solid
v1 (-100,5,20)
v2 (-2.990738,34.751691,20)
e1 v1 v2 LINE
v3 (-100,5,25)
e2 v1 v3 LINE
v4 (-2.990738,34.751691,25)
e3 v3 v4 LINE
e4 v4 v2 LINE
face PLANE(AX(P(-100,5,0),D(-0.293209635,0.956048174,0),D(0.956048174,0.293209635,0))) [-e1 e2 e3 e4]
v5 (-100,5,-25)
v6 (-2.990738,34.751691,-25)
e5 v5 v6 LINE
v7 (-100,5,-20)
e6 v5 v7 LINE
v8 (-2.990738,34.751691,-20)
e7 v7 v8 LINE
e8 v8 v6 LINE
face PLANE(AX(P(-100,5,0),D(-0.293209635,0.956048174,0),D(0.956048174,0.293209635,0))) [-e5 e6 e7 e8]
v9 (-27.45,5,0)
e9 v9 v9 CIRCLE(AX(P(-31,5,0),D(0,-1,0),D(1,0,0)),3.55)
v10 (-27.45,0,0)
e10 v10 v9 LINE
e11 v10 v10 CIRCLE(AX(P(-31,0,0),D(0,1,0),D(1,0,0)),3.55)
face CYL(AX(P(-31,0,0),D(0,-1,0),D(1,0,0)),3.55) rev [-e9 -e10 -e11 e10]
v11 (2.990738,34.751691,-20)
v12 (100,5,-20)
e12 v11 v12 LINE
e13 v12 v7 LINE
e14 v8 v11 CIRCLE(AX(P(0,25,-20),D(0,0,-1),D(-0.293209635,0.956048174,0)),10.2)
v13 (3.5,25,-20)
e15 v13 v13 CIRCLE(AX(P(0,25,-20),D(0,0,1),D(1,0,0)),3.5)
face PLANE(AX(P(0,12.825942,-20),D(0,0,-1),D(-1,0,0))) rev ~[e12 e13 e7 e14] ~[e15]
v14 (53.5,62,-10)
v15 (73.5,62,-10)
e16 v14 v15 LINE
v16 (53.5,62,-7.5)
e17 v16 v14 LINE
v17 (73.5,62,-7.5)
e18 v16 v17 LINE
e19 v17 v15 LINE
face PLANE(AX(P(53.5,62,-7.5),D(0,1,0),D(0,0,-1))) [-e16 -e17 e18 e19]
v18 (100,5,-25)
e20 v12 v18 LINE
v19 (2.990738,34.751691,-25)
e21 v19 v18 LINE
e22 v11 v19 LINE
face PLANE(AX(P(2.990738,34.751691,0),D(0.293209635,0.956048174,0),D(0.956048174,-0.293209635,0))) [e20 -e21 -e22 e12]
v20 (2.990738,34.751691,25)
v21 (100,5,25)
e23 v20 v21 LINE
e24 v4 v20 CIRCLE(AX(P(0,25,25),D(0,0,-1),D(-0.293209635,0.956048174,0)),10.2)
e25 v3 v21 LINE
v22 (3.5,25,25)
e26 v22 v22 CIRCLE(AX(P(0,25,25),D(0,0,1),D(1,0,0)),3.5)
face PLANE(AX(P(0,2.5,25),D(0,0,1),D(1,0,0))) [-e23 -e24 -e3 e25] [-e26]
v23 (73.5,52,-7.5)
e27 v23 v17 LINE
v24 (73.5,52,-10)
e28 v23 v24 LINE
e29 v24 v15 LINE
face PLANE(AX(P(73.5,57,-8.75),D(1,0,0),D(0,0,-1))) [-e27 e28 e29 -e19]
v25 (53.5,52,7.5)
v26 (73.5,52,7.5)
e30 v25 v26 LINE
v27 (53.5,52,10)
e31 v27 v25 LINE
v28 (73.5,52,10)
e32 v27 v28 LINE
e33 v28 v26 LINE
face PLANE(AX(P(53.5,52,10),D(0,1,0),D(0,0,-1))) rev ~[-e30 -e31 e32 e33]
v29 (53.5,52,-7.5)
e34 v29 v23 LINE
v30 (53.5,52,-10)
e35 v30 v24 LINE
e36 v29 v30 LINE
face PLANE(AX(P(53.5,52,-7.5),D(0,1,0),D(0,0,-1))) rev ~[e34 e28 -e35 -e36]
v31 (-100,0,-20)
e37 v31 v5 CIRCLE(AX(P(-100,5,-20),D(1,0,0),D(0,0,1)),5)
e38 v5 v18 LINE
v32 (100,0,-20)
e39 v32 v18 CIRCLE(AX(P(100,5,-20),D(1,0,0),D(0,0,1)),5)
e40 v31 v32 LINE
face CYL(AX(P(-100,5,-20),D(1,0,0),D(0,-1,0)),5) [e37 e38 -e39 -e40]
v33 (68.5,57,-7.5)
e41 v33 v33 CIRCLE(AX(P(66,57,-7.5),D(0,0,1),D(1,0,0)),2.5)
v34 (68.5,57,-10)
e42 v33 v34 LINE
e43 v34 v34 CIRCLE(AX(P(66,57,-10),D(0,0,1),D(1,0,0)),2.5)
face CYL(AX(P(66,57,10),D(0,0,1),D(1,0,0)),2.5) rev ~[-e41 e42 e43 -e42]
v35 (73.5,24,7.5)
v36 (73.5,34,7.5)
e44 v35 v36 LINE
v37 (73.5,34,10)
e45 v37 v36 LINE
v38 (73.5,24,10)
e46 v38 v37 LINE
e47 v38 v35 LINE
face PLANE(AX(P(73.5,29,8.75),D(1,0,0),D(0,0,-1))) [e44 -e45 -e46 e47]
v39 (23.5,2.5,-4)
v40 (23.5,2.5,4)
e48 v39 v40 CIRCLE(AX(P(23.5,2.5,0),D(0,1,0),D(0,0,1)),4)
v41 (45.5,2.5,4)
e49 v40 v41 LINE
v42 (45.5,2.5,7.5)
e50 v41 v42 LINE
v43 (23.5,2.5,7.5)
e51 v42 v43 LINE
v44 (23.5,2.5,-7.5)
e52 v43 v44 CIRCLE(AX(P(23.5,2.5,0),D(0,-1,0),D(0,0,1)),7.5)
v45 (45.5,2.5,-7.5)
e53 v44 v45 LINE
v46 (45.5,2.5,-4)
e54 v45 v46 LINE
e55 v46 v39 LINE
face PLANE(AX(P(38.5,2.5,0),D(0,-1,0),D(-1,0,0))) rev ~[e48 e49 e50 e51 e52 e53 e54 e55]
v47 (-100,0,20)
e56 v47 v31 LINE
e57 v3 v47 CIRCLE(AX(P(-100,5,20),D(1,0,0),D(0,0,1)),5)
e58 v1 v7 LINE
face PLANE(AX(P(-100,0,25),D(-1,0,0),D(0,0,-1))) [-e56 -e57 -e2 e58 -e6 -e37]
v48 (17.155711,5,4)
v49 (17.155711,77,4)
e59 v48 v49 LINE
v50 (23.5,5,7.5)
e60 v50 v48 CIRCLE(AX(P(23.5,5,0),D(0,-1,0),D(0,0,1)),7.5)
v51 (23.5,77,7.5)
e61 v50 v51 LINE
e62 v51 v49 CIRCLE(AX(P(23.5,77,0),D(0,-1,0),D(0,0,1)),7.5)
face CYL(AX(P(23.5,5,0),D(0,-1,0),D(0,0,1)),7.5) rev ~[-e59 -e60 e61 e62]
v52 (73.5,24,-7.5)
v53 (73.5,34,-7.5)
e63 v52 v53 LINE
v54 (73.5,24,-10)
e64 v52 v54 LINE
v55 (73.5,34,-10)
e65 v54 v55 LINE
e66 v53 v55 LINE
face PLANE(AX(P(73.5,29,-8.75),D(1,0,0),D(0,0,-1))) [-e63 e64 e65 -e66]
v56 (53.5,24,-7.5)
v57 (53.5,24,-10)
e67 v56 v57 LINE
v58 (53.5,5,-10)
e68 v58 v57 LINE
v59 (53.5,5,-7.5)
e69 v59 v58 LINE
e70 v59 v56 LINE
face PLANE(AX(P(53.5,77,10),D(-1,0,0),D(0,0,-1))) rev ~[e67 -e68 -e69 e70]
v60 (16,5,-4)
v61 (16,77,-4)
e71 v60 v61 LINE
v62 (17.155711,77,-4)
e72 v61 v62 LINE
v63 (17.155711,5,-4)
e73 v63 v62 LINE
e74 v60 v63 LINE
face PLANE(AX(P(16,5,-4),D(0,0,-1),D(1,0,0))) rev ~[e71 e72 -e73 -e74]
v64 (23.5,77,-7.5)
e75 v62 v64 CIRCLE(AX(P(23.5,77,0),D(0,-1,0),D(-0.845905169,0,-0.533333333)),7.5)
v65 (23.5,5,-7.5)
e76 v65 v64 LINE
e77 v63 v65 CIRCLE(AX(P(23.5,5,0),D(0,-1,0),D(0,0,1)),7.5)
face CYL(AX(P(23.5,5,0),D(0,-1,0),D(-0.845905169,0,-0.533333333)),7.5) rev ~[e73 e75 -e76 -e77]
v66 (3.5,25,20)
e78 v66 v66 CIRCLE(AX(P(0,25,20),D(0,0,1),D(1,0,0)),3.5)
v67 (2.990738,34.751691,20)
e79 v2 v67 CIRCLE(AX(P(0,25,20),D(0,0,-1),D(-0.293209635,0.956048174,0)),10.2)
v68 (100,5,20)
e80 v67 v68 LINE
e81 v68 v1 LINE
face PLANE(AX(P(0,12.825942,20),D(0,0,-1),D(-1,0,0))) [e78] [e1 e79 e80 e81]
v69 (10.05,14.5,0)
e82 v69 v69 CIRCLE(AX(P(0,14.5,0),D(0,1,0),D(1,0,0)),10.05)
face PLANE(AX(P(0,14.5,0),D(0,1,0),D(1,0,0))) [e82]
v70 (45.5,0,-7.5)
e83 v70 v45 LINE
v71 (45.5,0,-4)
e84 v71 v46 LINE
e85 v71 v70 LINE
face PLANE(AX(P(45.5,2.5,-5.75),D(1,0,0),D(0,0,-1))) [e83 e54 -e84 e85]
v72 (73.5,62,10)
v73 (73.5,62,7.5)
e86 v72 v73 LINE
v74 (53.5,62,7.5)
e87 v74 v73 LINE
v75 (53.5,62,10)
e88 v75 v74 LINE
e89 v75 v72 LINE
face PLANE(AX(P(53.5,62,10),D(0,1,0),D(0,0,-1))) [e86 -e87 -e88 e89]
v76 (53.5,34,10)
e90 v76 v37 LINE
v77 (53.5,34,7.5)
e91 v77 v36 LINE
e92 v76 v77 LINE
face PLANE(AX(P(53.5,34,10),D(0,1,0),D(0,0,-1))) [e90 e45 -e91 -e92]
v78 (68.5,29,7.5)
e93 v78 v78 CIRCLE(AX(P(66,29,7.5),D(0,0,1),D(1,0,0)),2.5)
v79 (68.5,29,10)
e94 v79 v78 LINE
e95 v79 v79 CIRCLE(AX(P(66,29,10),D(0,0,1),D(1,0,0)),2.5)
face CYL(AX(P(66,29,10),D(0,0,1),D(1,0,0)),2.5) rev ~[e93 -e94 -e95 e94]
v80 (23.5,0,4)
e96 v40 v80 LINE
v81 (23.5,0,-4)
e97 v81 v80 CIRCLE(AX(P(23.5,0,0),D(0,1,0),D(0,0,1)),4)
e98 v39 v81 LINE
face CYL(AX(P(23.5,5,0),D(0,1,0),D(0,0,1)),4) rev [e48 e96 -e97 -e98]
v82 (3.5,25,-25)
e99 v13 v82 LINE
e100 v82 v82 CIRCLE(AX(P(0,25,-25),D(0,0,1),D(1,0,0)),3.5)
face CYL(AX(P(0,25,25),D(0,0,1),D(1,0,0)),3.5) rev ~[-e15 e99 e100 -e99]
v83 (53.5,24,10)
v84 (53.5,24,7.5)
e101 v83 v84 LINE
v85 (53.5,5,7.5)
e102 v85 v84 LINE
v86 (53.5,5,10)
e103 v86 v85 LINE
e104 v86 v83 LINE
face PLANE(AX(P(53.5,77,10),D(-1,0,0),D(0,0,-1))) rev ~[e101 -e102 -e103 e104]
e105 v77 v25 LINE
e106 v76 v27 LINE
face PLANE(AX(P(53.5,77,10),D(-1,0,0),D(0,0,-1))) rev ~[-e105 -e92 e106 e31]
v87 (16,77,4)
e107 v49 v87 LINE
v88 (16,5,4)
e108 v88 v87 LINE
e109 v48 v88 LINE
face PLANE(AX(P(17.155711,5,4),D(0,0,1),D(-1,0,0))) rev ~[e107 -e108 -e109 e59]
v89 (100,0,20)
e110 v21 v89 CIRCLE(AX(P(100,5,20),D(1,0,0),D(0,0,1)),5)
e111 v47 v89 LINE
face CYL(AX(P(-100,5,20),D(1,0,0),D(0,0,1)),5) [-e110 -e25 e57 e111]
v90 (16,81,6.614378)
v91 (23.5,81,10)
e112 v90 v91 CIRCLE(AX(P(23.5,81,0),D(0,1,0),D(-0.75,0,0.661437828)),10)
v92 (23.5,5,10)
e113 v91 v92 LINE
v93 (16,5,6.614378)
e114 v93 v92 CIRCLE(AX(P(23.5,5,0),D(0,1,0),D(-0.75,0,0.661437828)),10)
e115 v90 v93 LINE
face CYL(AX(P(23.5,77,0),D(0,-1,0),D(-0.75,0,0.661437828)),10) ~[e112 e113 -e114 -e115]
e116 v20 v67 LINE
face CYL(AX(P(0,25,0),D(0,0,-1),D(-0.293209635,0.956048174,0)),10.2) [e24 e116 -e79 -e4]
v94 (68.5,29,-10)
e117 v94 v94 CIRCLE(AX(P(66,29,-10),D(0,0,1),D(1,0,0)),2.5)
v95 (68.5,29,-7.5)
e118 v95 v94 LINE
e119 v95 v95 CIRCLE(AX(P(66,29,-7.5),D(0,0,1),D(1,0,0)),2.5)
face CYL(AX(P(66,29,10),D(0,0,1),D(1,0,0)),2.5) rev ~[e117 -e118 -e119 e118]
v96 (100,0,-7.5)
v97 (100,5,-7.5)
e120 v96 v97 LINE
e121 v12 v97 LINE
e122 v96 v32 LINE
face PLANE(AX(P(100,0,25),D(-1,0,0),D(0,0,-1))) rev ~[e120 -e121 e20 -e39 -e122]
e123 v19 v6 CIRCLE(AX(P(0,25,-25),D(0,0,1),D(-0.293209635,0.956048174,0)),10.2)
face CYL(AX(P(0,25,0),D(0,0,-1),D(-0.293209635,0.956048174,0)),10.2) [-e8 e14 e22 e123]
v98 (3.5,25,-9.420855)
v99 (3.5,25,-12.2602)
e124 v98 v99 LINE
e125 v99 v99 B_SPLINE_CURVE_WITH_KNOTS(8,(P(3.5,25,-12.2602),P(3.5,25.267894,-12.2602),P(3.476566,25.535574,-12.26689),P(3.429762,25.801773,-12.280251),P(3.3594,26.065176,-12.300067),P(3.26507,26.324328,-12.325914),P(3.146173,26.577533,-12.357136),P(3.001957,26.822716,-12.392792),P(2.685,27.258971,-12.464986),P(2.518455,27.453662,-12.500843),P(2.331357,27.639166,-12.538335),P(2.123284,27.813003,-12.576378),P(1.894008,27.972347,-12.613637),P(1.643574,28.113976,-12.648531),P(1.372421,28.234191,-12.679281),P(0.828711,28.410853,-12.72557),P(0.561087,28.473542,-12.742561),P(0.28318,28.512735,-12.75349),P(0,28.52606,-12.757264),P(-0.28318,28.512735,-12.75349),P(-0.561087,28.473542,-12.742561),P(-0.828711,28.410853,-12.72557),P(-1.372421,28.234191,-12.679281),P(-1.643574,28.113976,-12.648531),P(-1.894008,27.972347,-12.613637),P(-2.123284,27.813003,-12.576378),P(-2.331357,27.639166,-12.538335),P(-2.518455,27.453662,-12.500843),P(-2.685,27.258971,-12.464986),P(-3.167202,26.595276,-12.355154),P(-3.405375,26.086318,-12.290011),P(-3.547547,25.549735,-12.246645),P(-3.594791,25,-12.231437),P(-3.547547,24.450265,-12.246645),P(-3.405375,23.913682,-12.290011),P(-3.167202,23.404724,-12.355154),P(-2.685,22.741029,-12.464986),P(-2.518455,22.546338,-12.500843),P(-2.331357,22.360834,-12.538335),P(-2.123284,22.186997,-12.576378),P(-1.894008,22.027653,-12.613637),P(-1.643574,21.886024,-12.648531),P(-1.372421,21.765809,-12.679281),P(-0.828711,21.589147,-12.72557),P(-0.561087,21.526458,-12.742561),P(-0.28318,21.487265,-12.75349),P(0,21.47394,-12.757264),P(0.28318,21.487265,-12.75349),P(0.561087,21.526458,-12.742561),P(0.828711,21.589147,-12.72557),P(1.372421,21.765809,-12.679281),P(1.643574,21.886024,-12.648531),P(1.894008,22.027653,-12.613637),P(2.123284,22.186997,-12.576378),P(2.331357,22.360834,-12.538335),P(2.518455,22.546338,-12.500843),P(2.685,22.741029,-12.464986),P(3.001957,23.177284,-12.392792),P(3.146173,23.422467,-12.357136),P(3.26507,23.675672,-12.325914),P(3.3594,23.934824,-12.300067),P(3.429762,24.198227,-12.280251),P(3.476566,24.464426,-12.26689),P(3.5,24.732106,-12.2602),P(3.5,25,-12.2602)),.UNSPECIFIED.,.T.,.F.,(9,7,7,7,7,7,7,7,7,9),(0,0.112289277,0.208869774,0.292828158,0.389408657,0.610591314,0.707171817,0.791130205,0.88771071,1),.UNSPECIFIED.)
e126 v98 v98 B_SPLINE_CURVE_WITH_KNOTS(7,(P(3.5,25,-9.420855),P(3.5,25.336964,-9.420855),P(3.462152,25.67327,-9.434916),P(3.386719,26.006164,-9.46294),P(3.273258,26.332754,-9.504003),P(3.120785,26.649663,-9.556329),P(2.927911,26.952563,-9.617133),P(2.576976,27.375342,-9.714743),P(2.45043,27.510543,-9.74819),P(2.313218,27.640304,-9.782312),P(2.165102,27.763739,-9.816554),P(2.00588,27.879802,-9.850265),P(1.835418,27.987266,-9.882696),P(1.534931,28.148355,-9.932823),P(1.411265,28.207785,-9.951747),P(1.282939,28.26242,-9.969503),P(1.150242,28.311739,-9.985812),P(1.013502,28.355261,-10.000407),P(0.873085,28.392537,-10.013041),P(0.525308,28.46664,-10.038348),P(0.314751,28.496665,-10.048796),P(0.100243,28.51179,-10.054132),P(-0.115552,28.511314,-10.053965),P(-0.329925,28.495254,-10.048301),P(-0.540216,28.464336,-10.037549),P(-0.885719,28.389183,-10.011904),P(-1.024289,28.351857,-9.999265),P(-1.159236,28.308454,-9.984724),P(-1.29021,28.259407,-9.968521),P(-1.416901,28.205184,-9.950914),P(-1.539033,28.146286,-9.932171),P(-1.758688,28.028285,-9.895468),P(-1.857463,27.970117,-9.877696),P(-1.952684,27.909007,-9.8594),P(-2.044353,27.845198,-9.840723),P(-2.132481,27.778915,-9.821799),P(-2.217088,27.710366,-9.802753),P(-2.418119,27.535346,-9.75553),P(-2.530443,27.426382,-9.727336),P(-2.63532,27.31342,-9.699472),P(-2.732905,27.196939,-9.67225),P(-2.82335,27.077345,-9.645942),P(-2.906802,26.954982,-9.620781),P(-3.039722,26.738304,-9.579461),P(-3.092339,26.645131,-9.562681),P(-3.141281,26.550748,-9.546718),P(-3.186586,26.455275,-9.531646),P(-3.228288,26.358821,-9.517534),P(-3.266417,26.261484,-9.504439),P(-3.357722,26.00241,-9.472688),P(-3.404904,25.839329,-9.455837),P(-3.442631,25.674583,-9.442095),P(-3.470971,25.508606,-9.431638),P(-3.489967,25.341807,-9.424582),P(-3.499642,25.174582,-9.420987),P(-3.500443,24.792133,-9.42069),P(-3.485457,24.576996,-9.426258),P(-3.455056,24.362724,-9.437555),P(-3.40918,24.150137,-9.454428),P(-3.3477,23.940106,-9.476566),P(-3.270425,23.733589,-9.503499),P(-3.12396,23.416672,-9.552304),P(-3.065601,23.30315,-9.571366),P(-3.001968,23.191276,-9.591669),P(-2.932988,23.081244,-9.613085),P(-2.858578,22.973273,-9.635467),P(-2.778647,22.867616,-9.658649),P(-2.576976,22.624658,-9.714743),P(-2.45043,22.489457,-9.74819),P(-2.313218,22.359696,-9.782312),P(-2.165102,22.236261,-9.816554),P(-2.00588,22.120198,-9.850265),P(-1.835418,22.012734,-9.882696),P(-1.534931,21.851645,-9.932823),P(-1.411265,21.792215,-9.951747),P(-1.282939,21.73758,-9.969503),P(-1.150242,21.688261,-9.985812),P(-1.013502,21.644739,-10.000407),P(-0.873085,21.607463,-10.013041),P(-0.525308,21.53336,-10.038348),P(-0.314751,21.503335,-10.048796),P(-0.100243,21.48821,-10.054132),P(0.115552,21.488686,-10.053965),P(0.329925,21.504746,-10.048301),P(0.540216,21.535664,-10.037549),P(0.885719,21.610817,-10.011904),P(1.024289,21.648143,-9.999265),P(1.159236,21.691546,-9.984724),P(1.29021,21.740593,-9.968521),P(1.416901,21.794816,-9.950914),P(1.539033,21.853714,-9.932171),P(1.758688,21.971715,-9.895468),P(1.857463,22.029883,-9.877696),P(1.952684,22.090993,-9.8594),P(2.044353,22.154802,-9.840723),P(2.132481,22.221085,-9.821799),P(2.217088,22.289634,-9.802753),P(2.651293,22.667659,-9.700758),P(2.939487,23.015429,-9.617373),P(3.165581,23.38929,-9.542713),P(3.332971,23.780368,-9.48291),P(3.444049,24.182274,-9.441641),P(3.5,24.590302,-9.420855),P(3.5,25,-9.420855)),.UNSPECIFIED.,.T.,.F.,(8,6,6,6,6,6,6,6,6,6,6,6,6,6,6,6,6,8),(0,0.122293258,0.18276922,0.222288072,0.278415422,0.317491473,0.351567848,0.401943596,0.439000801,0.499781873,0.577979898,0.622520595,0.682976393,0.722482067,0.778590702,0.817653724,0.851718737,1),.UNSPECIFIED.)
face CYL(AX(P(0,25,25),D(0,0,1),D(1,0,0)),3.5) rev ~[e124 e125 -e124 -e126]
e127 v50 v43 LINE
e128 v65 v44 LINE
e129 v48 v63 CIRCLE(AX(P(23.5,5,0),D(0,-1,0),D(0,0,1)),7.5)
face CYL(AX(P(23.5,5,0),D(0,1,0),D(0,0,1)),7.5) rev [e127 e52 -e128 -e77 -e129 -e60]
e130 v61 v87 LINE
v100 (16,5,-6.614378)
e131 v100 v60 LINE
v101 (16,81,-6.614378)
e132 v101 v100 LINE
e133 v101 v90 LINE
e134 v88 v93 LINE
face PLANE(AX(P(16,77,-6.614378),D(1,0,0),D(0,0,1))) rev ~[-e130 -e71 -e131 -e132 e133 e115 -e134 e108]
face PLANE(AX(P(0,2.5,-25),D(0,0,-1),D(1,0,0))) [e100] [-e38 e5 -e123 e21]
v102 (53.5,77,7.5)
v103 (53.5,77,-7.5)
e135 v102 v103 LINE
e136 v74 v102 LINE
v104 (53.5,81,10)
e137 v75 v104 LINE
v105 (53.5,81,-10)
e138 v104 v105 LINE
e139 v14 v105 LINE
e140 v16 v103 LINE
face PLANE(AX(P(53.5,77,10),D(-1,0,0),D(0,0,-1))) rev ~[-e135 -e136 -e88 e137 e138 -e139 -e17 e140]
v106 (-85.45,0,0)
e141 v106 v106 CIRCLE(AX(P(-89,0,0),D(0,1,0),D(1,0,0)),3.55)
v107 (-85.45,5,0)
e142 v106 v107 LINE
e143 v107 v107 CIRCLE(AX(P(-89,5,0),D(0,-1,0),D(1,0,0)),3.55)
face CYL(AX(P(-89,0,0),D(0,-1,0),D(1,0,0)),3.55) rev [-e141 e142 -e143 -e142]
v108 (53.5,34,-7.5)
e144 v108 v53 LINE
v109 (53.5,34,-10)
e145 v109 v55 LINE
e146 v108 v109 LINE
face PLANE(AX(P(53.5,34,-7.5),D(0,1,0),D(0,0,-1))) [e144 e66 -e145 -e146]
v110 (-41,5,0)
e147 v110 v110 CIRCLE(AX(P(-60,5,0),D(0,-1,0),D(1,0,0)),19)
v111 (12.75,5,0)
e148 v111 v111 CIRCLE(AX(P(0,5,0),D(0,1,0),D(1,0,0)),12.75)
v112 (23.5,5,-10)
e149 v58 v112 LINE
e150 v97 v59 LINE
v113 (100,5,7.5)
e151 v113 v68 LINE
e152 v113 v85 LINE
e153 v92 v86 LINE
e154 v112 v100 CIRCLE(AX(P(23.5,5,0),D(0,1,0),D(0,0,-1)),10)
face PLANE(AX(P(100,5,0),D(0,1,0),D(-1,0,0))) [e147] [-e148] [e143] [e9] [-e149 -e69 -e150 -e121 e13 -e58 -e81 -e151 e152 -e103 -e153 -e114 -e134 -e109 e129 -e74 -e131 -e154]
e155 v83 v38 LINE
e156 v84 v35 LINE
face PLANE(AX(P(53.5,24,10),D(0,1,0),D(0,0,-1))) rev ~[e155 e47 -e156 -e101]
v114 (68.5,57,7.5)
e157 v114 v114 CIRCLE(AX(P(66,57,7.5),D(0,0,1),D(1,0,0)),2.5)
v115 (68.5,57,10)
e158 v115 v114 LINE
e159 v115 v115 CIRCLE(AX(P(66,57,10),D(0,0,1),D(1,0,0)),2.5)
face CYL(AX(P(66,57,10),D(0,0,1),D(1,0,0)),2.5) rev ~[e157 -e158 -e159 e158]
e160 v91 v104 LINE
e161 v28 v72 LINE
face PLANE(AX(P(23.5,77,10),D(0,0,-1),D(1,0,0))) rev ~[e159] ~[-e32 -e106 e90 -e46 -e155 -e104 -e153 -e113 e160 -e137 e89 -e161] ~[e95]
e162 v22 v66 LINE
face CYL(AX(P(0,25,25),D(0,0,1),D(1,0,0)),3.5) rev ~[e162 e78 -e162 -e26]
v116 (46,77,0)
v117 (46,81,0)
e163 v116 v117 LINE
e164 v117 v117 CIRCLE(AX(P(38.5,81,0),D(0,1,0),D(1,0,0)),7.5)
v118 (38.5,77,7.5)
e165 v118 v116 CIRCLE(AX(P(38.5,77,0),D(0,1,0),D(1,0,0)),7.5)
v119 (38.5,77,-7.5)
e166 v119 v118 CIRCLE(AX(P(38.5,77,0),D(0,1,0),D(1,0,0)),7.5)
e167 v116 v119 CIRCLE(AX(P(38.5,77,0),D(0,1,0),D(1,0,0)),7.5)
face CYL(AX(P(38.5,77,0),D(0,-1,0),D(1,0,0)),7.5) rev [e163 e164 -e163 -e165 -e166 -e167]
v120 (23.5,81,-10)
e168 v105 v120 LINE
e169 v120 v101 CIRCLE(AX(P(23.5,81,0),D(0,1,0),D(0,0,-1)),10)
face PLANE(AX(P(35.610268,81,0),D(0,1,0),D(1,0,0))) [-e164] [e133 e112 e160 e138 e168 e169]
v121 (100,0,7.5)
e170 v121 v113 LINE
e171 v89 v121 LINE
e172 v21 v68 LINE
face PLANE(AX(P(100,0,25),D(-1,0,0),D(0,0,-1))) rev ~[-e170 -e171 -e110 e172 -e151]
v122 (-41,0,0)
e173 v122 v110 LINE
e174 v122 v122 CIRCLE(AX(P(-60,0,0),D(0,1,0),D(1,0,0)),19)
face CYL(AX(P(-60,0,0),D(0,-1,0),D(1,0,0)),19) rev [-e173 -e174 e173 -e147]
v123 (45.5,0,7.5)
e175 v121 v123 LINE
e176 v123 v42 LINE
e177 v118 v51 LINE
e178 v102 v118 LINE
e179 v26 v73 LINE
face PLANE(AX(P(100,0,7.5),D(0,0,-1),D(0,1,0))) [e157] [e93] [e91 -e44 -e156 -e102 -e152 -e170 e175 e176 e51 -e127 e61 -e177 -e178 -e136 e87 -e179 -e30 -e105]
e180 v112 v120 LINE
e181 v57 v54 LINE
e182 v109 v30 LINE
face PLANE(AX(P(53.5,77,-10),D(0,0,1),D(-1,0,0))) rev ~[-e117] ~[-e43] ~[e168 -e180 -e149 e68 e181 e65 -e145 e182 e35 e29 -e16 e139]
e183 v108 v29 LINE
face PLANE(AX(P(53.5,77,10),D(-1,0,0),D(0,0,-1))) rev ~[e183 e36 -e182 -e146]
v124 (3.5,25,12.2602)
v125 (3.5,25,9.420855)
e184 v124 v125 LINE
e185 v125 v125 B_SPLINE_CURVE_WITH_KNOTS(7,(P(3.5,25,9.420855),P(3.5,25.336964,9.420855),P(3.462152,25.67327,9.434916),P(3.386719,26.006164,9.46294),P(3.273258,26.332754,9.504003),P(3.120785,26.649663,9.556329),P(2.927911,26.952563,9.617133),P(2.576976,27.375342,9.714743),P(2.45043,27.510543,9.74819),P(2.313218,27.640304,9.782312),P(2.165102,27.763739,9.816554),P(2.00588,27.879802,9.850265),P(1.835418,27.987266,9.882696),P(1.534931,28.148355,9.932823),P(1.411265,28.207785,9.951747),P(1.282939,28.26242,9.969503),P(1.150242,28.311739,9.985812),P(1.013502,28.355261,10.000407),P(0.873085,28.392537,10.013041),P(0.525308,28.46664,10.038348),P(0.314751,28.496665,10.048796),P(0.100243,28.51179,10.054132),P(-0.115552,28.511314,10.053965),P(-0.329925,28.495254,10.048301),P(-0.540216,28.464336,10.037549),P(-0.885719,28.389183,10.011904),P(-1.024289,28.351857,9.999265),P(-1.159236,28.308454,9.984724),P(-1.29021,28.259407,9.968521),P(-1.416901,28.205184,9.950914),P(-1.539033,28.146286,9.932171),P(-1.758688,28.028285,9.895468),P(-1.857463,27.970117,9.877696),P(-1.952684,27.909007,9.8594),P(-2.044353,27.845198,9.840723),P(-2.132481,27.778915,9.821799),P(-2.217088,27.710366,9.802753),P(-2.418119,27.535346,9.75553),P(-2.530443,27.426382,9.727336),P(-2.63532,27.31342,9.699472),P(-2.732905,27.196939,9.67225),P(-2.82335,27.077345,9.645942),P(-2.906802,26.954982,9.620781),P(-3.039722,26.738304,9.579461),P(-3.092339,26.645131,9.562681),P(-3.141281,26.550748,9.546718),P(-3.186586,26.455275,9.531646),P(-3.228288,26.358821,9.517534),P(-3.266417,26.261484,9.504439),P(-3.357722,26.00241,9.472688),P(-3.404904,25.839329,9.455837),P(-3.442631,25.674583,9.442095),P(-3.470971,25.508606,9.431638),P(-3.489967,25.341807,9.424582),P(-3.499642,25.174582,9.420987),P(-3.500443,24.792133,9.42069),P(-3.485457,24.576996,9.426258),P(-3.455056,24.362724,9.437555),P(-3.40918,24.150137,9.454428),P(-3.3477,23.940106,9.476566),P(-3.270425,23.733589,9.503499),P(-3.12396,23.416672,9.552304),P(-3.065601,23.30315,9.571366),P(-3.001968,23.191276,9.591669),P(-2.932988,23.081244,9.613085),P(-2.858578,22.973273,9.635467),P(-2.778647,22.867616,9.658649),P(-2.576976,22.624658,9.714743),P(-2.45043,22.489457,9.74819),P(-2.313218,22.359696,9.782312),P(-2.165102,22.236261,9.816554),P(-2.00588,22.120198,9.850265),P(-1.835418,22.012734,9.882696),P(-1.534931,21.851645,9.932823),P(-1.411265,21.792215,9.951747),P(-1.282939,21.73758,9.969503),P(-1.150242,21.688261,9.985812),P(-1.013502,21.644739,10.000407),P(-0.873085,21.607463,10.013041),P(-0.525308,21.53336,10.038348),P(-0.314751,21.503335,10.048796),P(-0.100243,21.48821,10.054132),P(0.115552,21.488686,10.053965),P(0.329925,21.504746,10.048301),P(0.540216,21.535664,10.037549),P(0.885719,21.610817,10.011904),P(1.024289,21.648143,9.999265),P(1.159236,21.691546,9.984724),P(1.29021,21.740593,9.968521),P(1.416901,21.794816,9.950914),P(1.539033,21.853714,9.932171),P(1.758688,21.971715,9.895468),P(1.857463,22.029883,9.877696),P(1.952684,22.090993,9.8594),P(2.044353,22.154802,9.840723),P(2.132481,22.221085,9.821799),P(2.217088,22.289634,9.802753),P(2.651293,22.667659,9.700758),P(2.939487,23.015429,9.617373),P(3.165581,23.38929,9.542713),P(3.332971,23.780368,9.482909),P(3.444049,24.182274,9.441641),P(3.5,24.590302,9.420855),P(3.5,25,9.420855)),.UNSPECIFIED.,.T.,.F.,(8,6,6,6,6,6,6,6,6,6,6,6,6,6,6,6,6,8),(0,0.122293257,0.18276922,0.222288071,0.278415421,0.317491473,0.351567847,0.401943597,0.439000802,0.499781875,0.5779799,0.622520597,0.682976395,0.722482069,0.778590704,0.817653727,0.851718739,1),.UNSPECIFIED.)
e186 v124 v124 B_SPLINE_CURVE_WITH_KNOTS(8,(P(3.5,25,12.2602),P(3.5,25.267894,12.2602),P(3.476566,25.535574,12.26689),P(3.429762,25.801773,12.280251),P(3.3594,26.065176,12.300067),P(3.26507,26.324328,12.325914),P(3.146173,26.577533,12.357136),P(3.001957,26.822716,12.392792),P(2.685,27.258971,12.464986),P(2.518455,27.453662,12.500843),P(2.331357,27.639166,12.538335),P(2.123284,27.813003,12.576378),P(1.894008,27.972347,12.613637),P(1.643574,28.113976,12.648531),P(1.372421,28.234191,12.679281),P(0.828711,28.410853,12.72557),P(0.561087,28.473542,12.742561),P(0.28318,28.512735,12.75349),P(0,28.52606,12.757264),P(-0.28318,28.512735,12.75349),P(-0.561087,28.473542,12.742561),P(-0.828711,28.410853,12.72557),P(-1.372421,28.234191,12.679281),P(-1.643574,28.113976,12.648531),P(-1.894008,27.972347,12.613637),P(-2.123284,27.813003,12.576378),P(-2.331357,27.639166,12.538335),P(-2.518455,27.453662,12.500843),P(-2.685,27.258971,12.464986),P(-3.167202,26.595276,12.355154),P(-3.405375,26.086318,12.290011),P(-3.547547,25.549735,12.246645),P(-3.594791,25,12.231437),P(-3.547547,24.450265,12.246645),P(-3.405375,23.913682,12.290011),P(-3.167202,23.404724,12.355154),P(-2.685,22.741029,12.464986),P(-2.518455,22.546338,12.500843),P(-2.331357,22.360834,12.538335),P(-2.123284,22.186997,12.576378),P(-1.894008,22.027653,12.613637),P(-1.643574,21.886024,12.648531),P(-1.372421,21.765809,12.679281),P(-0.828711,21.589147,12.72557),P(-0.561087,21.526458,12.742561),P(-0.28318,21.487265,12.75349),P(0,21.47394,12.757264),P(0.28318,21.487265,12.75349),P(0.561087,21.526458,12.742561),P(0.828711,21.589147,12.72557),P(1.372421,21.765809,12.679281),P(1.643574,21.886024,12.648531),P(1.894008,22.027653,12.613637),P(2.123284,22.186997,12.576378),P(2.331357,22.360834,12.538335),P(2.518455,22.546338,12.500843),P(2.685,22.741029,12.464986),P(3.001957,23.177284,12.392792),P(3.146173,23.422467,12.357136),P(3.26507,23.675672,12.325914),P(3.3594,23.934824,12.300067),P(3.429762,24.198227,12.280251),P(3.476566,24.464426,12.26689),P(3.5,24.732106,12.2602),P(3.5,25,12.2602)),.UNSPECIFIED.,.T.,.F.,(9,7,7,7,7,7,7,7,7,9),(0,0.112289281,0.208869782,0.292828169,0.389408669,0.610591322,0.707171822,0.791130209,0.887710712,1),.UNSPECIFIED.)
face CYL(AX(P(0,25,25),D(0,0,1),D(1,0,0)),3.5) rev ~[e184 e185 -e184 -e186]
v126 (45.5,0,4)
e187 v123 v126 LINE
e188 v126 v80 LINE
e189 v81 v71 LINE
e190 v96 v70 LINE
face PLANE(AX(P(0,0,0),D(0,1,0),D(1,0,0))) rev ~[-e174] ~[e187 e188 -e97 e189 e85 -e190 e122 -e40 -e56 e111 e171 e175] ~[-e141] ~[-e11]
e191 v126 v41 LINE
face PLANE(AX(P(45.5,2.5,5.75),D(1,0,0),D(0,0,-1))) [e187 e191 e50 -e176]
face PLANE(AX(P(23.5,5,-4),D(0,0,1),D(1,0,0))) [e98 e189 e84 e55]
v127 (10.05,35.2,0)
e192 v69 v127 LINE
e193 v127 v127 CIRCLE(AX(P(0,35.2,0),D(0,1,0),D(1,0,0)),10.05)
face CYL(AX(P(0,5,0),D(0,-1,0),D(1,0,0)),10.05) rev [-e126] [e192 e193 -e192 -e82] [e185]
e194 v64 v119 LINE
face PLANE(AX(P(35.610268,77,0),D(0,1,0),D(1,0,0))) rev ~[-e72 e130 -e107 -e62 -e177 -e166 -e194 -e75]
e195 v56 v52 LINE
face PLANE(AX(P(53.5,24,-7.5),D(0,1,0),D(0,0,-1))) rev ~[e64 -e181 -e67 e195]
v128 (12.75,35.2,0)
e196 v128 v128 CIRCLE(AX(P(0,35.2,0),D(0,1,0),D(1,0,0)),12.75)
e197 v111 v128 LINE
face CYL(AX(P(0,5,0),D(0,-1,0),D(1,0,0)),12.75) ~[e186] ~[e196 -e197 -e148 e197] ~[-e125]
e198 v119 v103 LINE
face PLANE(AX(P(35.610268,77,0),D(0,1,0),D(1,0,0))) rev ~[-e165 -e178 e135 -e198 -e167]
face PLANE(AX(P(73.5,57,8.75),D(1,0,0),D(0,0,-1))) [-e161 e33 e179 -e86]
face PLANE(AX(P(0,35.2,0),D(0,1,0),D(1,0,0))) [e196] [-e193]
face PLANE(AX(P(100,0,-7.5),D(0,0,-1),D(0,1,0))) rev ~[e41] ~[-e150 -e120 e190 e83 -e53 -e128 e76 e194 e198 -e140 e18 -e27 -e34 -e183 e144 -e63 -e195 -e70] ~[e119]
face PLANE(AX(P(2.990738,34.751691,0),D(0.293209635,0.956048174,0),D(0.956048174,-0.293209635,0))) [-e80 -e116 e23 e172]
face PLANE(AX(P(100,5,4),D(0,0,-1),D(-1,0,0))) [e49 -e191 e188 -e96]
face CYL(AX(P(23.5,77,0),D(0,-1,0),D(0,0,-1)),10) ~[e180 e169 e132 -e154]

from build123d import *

# Parameters (mm, degrees)
SKETCH2_W                       = 200
SKETCH2_H                       = 50
SKETCH2_R                       = 19
SKETCH2_R_2                     = 3.55
BOSS_EXTRUDE1_DEPTH             = 5
BOSS_EXTRUDE3_REACH             = 27
BOSS_EXTRUDE3_DIRECTION_2_REACH = 27
CUT_EXTRUDE2_DEPTH              = 20
CUT_EXTRUDE2_DEPTH_BACK         = 20
SKETCH8_R                       = 12.75
SKETCH8_R_2                     = 10.05
BOSS_EXTRUDE4_DEPTH             = 30.2
FILLET1_R                       = 5
SKETCH9_R                       = 3.5
CUT_EXTRUDE3_DEPTH              = 51
SKETCH13_R                      = 2
CUT_EXTRUDE5_DEPTH              = 2.5
CUT_EXTRUDE6_DEPTH              = 6
BOSS_EXTRUDE7_DEPTH             = 72
SKETCH17_R                      = 7.5
BOSS_EXTRUDE8_DEPTH             = 4
SKETCH18_R                      = 10.05
BOSS_EXTRUDE9_DEPTH             = 9.5
SKETCH19_W                      = 2.5
SKETCH19_H                      = 10
BOSS_EXTRUDE10_DEPTH            = 20
SKETCH20_R                      = 2.5
CUT_EXTRUDE7_DEPTH              = 36
SKETCH21_W                      = 3.5
SKETCH21_H                      = 5
CUT_EXTRUDE8_DEPTH              = 54.5


with BuildPart() as part:
    # Sketch2 → Boss-Extrude1 (new body)
    with BuildSketch(Plane(origin=(0, 0, 0), x_dir=(1, 0, 0), z_dir=(0, 1, 0))):
        Rectangle(SKETCH2_W, SKETCH2_H)
        with Locations((-60, 0)):
            Circle(SKETCH2_R, mode=Mode.SUBTRACT)
        with Locations((-31, 0)):
            Circle(SKETCH2_R_2, mode=Mode.SUBTRACT)
        with Locations((-89, 0)):
            Circle(SKETCH2_R_2, mode=Mode.SUBTRACT)
    extrude(amount=BOSS_EXTRUDE1_DEPTH)

    # Boss-Extrude3: up to this face of the body (flat: up to its plane)
    boss_extrude3_end = Plane(part.part.faces().sort_by_distance((0, 2.5, -25))[0])
    # Sketch6 → Boss-Extrude3 (add, up to the picked face)
    with BuildSketch(Plane.XY, mode=Mode.PRIVATE) as boss_extrude3_sk1:
        with BuildLine():
            Line((-100, 5), (-2.990738274, 34.75169137))
            ThreePointArc((-2.990738274, 34.75169137), (0, 35.2), (2.990738274, 34.75169137))
            Line((2.990738274, 34.75169137), (100, 5))
            Line((100, 5), (-100, 5))
        make_face()
    boss_extrude3_tool1 = split(extrude(boss_extrude3_sk1.sketch, amount=-BOSS_EXTRUDE3_REACH, mode=Mode.PRIVATE), bisect_by=boss_extrude3_end, keep=Keep.BOTH, mode=Mode.PRIVATE)
    add(boss_extrude3_tool1.solids().sort_by_distance((0, 15.216769, 0))[0])

    # Boss-Extrude3 direction 2: up to this face of the body (flat: up to its plane)
    boss_extrude3_direction_2_end = Plane(part.part.faces().sort_by_distance((0, 2.5, 25))[0])
    # Sketch6 → Boss-Extrude3 direction 2 (add, up to the picked face)
    with BuildSketch(Plane.XY, mode=Mode.PRIVATE) as boss_extrude3_direction_2_sk1:
        with BuildLine():
            Line((-100, 5), (-2.990738274, 34.75169137))
            ThreePointArc((-2.990738274, 34.75169137), (0, 35.2), (2.990738274, 34.75169137))
            Line((2.990738274, 34.75169137), (100, 5))
            Line((100, 5), (-100, 5))
        make_face()
    boss_extrude3_direction_2_tool1 = split(extrude(boss_extrude3_direction_2_sk1.sketch, amount=BOSS_EXTRUDE3_DIRECTION_2_REACH, mode=Mode.PRIVATE), bisect_by=boss_extrude3_direction_2_end, keep=Keep.BOTH, mode=Mode.PRIVATE)
    add(boss_extrude3_direction_2_tool1.solids().sort_by_distance((0, 15.216769, 0))[0])

    # Sketch7 → Cut-Extrude2 (cut, two sides)
    with BuildSketch(Plane.XY) as cut_extrude2_sk:
        with BuildLine():
            Line((2.990738274, 34.75169137), (100, 5))
            Line((100, 5), (-100, 5))
            Line((-100, 5), (-2.990738274, 34.75169137))
            ThreePointArc((-2.990738274, 34.75169137), (0, 35.2), (2.990738274, 34.75169137))
        make_face()
    extrude(amount=CUT_EXTRUDE2_DEPTH, mode=Mode.SUBTRACT)
    extrude(cut_extrude2_sk.sketch, amount=-CUT_EXTRUDE2_DEPTH_BACK, mode=Mode.SUBTRACT)

    # Sketch8 → Boss-Extrude4 (add)
    with BuildSketch(Plane(origin=(0, 5, 0), x_dir=(1, 0, 0), z_dir=(0, 1, 0))):
        Circle(SKETCH8_R)
        Circle(SKETCH8_R_2, mode=Mode.SUBTRACT)
    extrude(amount=BOSS_EXTRUDE4_DEPTH)

    # Fillet1
    fillet1_edges = [part.edges().sort_by_distance(p)[0] for p in [
        (0, 0, -25),
        (0, 0, 25),
    ]]
    fillet(fillet1_edges, radius=FILLET1_R)

    # Sketch9 → Cut-Extrude3 (cut, through all)
    with BuildSketch(Plane.XY.offset(25)):
        with Locations((0, 25)):
            Circle(SKETCH9_R)
    extrude(amount=-CUT_EXTRUDE3_DEPTH, mode=Mode.SUBTRACT)

    # Sketch13 → Cut-Extrude5 (cut)
    with BuildSketch(Plane(origin=(0, 5, 0), x_dir=(1, 0, 0), z_dir=(0, 1, 0))):
        with BuildLine():
            Line((23.5, 7.5), (53.5, 7.5))
            ThreePointArc((53.5, 7.5), (61, 0), (53.5, -7.5))
            Line((53.5, -7.5), (23.5, -7.5))
            ThreePointArc((23.5, -7.5), (16, 0), (23.5, 7.5))
        make_face()
        with Locations((31.5, 0)):
            Circle(SKETCH13_R, mode=Mode.SUBTRACT)
        with Locations((24.5, 0)):
            Circle(SKETCH13_R, mode=Mode.SUBTRACT)
        with Locations((38.5, 0)):
            Circle(SKETCH13_R, mode=Mode.SUBTRACT)
        with Locations((45.5, 0)):
            Circle(SKETCH13_R, mode=Mode.SUBTRACT)
        with Locations((52.5, 0)):
            Circle(SKETCH13_R, mode=Mode.SUBTRACT)
    extrude(amount=-CUT_EXTRUDE5_DEPTH, mode=Mode.SUBTRACT)

    # Sketch15 → Cut-Extrude6 (cut, through all)
    with BuildSketch(Plane(origin=(0, 5, 0), x_dir=(1, 0, 0), z_dir=(0, 1, 0))):
        with BuildLine():
            Line((23.5, 4), (53.5, 4))
            Line((53.5, 4), (100, 4))
            Line((100, 4), (100, -4))
            Line((100, -4), (53.5, -4))
            Line((53.5, -4), (23.5, -4))
            ThreePointArc((23.5, -4), (19.5, 0), (23.5, 4))
        make_face()
    extrude(amount=-CUT_EXTRUDE6_DEPTH, mode=Mode.SUBTRACT)

    # Sketch16 → Boss-Extrude7 (add)
    with BuildSketch(Plane(origin=(0, 5, 0), x_dir=(1, 0, 0), z_dir=(0, 1, 0))):
        with BuildLine():
            Line((16, -4), (16, -6.614378278))
            ThreePointArc((16, -6.614378278), (19.385621722, -9.114378278), (23.5, -10))
            Line((23.5, -10), (53.5, -10))
            Line((53.5, -10), (53.5, -7.5))
            Line((53.5, -7.5), (23.5, -7.5))
            ThreePointArc((23.5, -7.5), (19.877155813, -6.566962768), (17.15571123, -4))
            Line((17.15571123, -4), (16, -4))
        make_face()
        with BuildLine():
            Line((53.5, 10), (23.5, 10))
            ThreePointArc((23.5, 10), (19.385621722, 9.114378278), (16, 6.614378278))
            Line((16, 6.614378278), (16, 4))
            Line((16, 4), (17.15571123, 4))
            ThreePointArc((17.15571123, 4), (19.877155813, 6.566962768), (23.5, 7.5))
            Line((23.5, 7.5), (53.5, 7.5))
            Line((53.5, 7.5), (53.5, 10))
        make_face()
    extrude(amount=BOSS_EXTRUDE7_DEPTH)

    # Sketch17 → Boss-Extrude8 (add)
    with BuildSketch(Plane(origin=(0, 77, 0), x_dir=(1, 0, 0), z_dir=(0, 1, 0))):
        with BuildLine():
            Line((23.5, -10), (53.5, -10))
            Line((53.5, -10), (53.5, 10))
            Line((53.5, 10), (23.5, 10))
            ThreePointArc((23.5, 10), (19.385621722, 9.114378278), (16, 6.614378278))
            Line((16, 6.614378278), (16, 4))
            Line((16, 4), (16, -4))
            Line((16, -4), (16, -6.614378278))
            ThreePointArc((16, -6.614378278), (19.385621722, -9.114378278), (23.5, -10))
        make_face()
        with Locations((38.5, 0)):
            Circle(SKETCH17_R, mode=Mode.SUBTRACT)
    extrude(amount=BOSS_EXTRUDE8_DEPTH)

    # Sketch18 → Boss-Extrude9 (add)
    with BuildSketch(Plane(origin=(0, 5, 0), x_dir=(1, 0, 0), z_dir=(0, 1, 0))):
        Circle(SKETCH18_R)
    extrude(amount=BOSS_EXTRUDE9_DEPTH)

    # Sketch19 → Boss-Extrude10 (add)
    with BuildSketch(Plane(origin=(53.5, 0, 0), x_dir=(0, 0, -1), z_dir=(1, 0, 0))):
        with Locations((-8.75, 57)):
            Rectangle(SKETCH19_W, SKETCH19_H)
        with Locations((8.75, 57)):
            Rectangle(SKETCH19_W, SKETCH19_H)
        with Locations((8.75, 29)):
            Rectangle(SKETCH19_W, SKETCH19_H)
        with Locations((-8.75, 29)):
            Rectangle(SKETCH19_W, SKETCH19_H)
    extrude(amount=BOSS_EXTRUDE10_DEPTH)

    # Sketch20 → Cut-Extrude7 (cut, through all)
    with BuildSketch(Plane.XY.offset(10)):
        with Locations((66, 57)):
            Circle(SKETCH20_R)
        with Locations((66, 29)):
            Circle(SKETCH20_R)
    extrude(amount=-CUT_EXTRUDE7_DEPTH, mode=Mode.SUBTRACT)

    # Sketch21 → Cut-Extrude8 (cut)
    with BuildSketch(Plane(origin=(100, 0, 0), x_dir=(0, 0, -1), z_dir=(1, 0, 0))):
        with Locations((-5.75, 2.5)):
            Rectangle(SKETCH21_W, SKETCH21_H)
        with Locations((5.75, 2.5)):
            Rectangle(SKETCH21_W, SKETCH21_H)
    extrude(amount=-CUT_EXTRUDE8_DEPTH, mode=Mode.SUBTRACT)


solid = part.part
